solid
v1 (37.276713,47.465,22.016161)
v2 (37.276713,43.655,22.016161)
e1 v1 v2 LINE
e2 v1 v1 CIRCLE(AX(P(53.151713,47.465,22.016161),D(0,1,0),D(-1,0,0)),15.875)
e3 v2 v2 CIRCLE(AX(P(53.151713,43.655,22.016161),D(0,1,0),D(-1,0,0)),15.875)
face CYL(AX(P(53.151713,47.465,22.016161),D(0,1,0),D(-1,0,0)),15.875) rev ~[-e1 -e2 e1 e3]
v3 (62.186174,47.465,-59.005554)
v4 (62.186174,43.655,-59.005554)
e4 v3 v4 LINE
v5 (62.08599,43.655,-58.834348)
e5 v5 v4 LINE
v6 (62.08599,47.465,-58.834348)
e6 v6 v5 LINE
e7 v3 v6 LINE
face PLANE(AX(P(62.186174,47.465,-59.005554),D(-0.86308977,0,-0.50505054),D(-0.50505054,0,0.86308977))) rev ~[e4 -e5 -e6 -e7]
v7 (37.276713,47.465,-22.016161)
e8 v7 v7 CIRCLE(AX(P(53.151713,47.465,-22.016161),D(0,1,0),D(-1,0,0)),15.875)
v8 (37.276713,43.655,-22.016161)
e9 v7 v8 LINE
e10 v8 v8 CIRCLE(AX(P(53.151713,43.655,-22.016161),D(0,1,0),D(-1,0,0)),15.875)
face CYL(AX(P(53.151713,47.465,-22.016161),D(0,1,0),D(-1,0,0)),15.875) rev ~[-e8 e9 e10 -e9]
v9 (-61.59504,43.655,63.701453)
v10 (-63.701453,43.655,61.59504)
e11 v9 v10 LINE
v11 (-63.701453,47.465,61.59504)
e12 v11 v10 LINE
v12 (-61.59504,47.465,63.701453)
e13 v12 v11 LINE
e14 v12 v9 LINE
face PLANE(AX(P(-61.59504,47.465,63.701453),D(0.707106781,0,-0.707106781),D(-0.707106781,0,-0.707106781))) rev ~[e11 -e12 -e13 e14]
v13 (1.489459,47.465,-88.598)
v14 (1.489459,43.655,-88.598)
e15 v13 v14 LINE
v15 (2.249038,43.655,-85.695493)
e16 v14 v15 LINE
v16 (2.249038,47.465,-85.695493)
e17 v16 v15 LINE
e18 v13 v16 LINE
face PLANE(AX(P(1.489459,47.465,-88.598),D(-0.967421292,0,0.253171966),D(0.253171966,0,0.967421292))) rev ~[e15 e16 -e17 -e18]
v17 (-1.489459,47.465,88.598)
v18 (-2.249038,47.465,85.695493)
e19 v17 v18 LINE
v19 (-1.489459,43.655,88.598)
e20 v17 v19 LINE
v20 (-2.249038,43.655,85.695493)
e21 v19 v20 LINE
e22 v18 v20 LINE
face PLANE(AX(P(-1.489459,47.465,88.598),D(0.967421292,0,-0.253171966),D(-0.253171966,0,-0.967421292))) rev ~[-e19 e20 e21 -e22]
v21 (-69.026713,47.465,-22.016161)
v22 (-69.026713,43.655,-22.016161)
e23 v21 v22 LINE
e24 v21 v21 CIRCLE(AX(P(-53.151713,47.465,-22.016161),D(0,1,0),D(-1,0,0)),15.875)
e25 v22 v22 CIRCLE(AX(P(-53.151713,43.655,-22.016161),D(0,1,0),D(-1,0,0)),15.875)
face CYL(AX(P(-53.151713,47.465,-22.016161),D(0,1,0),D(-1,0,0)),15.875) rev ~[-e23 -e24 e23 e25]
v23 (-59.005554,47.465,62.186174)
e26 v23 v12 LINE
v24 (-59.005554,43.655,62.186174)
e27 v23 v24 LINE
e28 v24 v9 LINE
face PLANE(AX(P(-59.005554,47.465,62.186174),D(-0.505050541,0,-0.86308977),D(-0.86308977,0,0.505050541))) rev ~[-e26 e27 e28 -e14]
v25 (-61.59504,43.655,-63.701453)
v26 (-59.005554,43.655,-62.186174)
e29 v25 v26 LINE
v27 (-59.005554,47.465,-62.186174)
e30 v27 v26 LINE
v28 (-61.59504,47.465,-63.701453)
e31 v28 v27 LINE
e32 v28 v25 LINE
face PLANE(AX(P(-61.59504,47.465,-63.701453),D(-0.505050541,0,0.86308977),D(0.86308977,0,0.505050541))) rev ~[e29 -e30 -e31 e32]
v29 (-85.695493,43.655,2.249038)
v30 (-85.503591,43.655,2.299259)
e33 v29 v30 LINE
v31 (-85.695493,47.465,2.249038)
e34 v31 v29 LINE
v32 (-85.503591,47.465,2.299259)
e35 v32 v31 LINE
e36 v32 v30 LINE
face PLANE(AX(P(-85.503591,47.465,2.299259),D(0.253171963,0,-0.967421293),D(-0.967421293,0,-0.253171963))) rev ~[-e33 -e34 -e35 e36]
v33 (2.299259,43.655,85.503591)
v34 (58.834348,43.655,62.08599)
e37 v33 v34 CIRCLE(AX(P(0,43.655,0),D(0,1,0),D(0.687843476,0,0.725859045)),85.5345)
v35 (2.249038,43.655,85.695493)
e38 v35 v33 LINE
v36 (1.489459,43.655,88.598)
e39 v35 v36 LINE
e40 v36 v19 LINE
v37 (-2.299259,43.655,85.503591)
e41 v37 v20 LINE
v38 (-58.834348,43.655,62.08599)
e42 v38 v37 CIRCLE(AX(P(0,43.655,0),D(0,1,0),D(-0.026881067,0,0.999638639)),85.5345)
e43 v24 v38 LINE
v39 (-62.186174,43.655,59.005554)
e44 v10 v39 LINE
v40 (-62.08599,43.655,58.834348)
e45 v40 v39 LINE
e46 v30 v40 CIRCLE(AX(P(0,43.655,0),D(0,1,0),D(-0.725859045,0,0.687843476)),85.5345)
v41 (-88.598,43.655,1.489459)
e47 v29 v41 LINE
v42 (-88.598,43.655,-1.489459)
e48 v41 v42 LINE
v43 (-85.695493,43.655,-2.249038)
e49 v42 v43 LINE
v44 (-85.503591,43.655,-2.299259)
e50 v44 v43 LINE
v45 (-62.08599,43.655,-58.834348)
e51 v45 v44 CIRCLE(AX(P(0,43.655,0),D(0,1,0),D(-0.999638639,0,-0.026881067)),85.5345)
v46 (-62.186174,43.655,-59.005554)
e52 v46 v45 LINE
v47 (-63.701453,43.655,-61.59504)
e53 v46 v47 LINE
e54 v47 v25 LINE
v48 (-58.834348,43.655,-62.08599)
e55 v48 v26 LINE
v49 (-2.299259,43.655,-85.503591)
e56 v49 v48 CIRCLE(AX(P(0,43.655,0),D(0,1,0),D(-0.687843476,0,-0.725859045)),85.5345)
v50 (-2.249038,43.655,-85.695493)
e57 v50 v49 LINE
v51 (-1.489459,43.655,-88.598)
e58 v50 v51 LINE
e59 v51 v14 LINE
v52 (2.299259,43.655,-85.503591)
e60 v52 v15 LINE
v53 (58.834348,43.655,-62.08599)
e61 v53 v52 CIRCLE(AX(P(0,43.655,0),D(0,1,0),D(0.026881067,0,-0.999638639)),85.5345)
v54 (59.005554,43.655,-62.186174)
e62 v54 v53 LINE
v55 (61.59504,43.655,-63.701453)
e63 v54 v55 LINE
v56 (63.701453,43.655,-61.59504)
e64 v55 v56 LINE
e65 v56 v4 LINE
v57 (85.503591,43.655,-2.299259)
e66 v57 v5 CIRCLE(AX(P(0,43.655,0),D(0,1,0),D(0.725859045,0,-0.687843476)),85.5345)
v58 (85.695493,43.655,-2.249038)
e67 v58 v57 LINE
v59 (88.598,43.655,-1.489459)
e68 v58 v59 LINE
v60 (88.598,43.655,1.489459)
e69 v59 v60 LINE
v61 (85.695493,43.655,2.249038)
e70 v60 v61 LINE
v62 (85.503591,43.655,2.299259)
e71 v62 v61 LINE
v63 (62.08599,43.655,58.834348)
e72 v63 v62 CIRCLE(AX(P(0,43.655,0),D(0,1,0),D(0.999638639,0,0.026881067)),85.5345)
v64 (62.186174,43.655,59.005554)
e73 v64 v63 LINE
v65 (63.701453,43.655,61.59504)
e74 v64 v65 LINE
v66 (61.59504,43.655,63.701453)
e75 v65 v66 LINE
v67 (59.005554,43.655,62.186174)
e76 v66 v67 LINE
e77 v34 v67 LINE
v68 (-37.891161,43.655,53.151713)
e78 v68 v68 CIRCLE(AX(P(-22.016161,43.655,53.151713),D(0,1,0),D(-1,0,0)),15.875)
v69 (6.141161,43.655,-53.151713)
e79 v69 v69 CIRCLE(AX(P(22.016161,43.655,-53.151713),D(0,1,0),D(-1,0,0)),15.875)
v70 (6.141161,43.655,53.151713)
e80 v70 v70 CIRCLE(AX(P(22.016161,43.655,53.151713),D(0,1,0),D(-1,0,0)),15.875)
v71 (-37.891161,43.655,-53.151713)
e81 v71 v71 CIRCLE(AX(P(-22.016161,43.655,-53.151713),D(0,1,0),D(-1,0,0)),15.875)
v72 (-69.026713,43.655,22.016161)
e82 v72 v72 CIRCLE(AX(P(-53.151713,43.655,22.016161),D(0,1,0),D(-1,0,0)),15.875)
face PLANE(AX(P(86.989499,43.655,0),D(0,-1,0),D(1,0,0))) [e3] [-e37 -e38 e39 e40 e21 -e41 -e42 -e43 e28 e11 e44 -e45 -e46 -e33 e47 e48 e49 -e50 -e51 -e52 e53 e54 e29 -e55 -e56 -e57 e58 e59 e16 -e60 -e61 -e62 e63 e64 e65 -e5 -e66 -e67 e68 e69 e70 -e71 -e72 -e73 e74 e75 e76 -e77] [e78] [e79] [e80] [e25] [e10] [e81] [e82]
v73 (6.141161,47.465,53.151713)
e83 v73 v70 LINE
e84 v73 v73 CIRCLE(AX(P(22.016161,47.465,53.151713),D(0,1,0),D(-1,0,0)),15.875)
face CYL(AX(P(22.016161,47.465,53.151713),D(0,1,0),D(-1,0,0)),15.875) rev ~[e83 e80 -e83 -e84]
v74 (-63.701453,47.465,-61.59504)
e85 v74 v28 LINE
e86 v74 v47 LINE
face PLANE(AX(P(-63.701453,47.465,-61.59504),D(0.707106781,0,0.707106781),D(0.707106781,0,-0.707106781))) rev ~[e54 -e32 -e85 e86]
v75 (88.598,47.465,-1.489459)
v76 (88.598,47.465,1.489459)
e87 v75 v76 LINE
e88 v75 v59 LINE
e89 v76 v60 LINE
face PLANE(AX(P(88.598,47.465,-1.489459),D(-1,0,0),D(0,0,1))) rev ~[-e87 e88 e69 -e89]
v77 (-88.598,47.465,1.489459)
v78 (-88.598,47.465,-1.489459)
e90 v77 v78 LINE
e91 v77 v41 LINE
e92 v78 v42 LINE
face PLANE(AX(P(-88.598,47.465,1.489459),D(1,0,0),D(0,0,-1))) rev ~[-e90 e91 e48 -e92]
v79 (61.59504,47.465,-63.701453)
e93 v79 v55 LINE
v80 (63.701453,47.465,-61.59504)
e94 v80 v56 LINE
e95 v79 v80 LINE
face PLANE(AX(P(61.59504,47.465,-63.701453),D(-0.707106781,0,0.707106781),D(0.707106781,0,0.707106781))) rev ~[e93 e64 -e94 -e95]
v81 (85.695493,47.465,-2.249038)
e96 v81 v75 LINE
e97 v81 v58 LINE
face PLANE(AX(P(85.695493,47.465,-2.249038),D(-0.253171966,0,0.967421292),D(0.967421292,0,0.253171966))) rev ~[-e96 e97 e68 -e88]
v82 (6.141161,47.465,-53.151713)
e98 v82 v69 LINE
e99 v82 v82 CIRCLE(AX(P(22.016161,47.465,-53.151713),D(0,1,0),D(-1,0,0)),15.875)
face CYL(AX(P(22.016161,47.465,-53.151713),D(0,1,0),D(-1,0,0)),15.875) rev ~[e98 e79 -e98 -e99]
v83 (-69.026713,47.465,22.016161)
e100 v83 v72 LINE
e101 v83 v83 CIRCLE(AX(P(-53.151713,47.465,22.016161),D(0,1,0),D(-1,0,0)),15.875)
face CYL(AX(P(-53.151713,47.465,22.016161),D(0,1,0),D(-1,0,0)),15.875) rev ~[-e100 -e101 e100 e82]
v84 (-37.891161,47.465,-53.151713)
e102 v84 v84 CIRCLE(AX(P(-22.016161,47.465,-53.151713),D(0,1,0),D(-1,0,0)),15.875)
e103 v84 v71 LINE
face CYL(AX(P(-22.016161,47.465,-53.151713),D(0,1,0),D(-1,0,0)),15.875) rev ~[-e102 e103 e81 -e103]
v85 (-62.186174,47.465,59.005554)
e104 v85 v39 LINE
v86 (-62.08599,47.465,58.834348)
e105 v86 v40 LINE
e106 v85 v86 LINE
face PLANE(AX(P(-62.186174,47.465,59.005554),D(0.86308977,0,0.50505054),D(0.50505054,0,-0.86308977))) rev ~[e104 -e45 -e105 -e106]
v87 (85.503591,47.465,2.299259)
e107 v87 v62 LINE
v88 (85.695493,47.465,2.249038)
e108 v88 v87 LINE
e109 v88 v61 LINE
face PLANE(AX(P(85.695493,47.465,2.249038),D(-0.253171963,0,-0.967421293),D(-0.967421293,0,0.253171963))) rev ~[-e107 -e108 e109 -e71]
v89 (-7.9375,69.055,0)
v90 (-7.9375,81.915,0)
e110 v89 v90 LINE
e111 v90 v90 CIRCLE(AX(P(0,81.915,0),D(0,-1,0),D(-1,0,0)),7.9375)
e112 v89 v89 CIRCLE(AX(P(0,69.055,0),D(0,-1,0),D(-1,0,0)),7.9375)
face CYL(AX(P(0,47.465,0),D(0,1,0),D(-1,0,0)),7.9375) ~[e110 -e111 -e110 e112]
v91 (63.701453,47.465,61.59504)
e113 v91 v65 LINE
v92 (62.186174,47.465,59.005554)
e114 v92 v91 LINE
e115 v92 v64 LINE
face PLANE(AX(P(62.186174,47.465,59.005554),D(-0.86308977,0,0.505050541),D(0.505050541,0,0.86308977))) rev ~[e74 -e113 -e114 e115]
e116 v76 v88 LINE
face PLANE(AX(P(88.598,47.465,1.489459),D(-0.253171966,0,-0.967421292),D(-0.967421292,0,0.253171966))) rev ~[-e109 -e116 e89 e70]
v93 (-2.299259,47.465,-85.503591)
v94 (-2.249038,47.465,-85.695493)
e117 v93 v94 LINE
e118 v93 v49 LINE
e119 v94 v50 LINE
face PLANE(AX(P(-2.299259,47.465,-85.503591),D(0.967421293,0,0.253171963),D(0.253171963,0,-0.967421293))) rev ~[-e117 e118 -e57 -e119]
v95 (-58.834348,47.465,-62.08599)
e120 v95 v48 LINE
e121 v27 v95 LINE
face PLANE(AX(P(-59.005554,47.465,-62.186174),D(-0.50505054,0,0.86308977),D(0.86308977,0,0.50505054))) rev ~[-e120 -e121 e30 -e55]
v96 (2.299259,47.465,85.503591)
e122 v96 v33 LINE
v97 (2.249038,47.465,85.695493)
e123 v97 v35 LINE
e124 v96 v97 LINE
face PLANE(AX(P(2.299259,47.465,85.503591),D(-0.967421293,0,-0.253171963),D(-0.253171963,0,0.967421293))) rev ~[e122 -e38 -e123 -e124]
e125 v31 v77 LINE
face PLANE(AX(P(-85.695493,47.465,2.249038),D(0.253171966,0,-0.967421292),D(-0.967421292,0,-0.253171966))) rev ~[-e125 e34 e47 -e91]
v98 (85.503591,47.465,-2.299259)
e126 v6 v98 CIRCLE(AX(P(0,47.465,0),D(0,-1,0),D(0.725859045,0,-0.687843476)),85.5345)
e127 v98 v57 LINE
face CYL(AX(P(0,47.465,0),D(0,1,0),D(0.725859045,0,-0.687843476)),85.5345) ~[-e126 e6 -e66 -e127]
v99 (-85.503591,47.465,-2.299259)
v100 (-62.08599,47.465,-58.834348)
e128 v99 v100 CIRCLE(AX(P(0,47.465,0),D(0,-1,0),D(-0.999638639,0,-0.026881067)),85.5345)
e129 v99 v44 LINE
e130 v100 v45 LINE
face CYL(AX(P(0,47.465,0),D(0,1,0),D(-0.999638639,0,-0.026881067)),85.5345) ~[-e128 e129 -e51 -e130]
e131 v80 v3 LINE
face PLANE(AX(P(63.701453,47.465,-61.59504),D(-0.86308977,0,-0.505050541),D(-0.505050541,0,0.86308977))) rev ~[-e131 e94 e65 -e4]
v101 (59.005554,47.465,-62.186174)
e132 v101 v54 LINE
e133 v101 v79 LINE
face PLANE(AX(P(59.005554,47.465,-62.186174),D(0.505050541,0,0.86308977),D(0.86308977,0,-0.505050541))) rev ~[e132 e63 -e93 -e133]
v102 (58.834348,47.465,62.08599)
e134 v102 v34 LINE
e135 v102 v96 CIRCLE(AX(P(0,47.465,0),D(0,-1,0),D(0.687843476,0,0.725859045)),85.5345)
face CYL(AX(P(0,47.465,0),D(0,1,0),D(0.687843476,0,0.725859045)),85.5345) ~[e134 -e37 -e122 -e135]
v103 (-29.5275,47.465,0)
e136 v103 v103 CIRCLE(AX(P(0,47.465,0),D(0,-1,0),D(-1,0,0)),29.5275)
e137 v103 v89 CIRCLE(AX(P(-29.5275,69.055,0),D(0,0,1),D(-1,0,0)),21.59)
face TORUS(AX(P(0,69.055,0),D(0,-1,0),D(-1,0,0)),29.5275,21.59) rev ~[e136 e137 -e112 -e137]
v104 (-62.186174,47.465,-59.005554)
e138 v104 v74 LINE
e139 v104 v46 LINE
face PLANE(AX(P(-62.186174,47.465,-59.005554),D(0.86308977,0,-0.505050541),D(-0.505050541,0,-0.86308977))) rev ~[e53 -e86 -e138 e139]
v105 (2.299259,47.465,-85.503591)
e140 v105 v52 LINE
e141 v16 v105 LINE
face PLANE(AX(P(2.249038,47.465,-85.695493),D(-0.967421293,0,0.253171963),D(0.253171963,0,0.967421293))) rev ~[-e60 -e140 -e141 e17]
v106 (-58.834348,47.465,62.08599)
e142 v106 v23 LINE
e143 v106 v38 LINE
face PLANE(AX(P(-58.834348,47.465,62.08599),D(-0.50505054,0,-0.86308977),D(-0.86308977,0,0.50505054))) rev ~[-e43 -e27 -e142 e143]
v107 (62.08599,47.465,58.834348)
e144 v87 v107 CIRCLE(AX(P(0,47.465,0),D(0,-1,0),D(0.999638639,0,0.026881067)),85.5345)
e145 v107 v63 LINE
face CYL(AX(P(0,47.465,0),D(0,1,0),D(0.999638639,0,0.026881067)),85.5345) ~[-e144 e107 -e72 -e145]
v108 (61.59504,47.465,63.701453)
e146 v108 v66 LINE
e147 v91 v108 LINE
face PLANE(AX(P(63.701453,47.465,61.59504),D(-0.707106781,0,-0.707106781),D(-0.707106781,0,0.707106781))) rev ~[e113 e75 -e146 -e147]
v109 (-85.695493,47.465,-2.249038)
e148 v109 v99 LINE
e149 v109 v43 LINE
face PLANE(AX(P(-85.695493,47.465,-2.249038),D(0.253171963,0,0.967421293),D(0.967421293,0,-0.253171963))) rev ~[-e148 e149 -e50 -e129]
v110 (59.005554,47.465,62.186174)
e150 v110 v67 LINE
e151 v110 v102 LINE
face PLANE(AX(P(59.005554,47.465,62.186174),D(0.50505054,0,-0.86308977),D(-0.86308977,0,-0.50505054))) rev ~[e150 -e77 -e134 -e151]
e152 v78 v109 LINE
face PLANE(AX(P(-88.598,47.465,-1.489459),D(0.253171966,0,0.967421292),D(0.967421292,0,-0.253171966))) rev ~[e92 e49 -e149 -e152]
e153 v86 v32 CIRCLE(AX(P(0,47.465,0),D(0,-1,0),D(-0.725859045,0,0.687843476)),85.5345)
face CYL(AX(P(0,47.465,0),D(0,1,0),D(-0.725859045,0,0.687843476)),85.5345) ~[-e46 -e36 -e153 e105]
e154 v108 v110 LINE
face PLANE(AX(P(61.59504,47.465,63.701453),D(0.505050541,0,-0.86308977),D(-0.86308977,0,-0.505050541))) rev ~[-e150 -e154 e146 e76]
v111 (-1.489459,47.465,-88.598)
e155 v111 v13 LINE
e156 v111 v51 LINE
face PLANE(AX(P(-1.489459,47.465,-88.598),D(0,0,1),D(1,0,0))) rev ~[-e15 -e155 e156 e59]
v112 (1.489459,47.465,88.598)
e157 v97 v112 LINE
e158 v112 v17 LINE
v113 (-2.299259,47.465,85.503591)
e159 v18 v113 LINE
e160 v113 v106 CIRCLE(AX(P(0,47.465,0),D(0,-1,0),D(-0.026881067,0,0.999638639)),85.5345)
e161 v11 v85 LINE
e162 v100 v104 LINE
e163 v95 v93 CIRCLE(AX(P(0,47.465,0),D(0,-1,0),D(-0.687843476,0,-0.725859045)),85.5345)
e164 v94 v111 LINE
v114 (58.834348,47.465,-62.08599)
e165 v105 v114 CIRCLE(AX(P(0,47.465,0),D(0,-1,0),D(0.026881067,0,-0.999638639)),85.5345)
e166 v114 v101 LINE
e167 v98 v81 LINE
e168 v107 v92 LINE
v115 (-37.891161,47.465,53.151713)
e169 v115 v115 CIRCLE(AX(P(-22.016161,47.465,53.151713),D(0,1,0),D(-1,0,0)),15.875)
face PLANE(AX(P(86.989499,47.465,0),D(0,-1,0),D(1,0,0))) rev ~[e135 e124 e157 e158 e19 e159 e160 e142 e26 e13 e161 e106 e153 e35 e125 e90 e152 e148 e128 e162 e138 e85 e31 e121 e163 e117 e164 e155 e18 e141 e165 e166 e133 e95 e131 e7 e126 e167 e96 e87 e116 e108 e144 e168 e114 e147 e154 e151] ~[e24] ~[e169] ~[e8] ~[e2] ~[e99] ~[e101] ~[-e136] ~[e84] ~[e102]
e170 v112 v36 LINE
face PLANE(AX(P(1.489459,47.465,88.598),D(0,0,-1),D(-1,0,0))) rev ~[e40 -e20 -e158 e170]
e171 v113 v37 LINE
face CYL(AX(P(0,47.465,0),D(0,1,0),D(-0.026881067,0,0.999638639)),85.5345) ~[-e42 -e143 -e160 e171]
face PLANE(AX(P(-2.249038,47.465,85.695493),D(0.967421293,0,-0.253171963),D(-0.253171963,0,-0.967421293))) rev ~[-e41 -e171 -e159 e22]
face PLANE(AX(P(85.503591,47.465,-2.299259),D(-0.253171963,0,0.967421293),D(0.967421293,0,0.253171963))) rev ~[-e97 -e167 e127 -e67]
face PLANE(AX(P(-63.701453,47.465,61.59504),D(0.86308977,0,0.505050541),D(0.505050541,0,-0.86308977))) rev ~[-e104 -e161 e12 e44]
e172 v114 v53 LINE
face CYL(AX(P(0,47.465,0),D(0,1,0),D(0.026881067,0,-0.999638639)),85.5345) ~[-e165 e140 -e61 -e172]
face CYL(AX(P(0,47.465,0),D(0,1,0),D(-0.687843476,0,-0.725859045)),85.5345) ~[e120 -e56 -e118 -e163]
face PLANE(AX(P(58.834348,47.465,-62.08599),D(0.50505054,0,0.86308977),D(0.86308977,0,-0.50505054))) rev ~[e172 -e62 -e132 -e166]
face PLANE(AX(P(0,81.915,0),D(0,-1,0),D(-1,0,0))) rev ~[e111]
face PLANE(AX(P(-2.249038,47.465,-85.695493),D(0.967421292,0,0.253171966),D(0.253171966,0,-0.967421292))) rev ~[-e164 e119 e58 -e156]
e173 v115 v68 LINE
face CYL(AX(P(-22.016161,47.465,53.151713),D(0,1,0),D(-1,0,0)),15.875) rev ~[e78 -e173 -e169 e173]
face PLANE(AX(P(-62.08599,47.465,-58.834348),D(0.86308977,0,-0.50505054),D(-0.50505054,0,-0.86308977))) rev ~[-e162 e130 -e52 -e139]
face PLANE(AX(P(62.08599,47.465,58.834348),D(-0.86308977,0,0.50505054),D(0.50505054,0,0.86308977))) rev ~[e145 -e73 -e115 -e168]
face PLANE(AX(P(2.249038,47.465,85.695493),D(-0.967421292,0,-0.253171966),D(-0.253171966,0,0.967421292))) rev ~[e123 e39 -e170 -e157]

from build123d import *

# Parameters (mm, degrees)
SKETCH1_R            = 85.725
BOSS_EXTRUDE1_DEPTH  = 62.865
FILLET1_R            = 3.175
FILLET1_OF_MIRROR1_R = 3.175
FILLET2_R            = 21.59
CUT_EXTRUDE2_START   = 34.45
SKETCH5_R            = 92.075
SKETCH5_R_2          = 85.725
CUT_EXTRUDE2_DEPTH   = 219.00798967
SKETCH6_W            = 171.45
SKETCH6_H            = 25.581957496
CUT_EXTRUDE3_DEPTH   = 88.9
BOSS_EXTRUDE2_START  = -94.93
BOSS_EXTRUDE2_DEPTH  = 3.81
CUT_EXTRUDE5_DEPTH   = 130.946195435
SKETCH9_R            = 15.875
CUT_EXTRUDE6_DEPTH   = 130.946195435


with BuildPart() as part:
    # Sketch1 → Boss-Extrude1 (new, symmetric)
    with BuildSketch(Plane(origin=(0, 0, 0), x_dir=(1, 0, 0), z_dir=(0, 1, 0))):
        with BuildLine():
            Line((13.371386035, 89.497618576), (13.619190523, 91.06219454))
            ThreePointArc((13.619190523, 91.06219454), (7.224121239, 91.791163503), (0.79375, 92.0715786))
            Line((0.79375, 92.0715786), (0.79375, 90.4875))
            Line((0.79375, 90.4875), (-0.79375, 90.4875))
            Line((-0.79375, 90.4875), (-0.79375, 92.0715786))
            ThreePointArc((-0.79375, 92.0715786), (-7.224121239, 91.791163503), (-13.619190523, 91.06219454))
            Line((-13.619190523, 91.06219454), (-13.371386035, 89.497618576))
            Line((-13.371386035, 89.497618576), (-14.939341276, 89.249278863))
            Line((-14.939341276, 89.249278863), (-15.187145764, 90.813854827))
            ThreePointArc((-15.187145764, 90.813854827), (-21.494481877, 89.530960421), (-27.696781377, 87.810557033))
            Line((-27.696781377, 87.810557033), (-27.207274169, 86.304008758))
            Line((-27.207274169, 86.304008758), (-28.717076388, 85.813444279))
            Line((-28.717076388, 85.813444279), (-29.206583596, 87.319992554))
            ThreePointArc((-29.206583596, 87.319992554), (-35.235577035, 85.066207956), (-41.092385552, 82.396732184))
            Line((-41.092385552, 82.396732184), (-40.373228917, 80.985307817))
            Line((-40.373228917, 80.985307817), (-41.787701774, 80.264597898))
            Line((-41.787701774, 80.264597898), (-42.506858409, 81.676022266))
            ThreePointArc((-42.506858409, 81.676022266), (-48.109055346, 78.506843133), (-53.476158817, 74.954026331))
            Line((-53.476158817, 74.954026331), (-52.545060778, 73.672479823))
            Line((-52.545060778, 73.672479823), (-53.829375256, 72.739370734))
            Line((-53.829375256, 72.739370734), (-54.760473296, 74.020917243))
            ThreePointArc((-54.760473296, 74.020917243), (-59.79792905, 70.014379283), (-64.543171575, 65.66570359))
            Line((-64.543171575, 65.66570359), (-63.423058855, 64.54559087))
            Line((-63.423058855, 64.54559087), (-64.54559087, 63.423058855))
            Line((-64.54559087, 63.423058855), (-65.66570359, 64.543171575))
            ThreePointArc((-65.66570359, 64.543171575), (-70.014379283, 59.79792905), (-74.020917243, 54.760473296))
            Line((-74.020917243, 54.760473296), (-72.739370734, 53.829375256))
            Line((-72.739370734, 53.829375256), (-73.672479823, 52.545060778))
            Line((-73.672479823, 52.545060778), (-74.954026331, 53.476158817))
            ThreePointArc((-74.954026331, 53.476158817), (-78.506843133, 48.109055346), (-81.676022266, 42.506858409))
            Line((-81.676022266, 42.506858409), (-80.264597898, 41.787701774))
            Line((-80.264597898, 41.787701774), (-80.985307817, 40.373228917))
            Line((-80.985307817, 40.373228917), (-82.396732184, 41.092385552))
            ThreePointArc((-82.396732184, 41.092385552), (-85.066207956, 35.235577035), (-87.319992554, 29.206583596))
            Line((-87.319992554, 29.206583596), (-85.813444279, 28.717076388))
            Line((-85.813444279, 28.717076388), (-86.304008758, 27.207274169))
            Line((-86.304008758, 27.207274169), (-87.810557033, 27.696781377))
            ThreePointArc((-87.810557033, 27.696781377), (-89.530960421, 21.494481877), (-90.813854827, 15.187145764))
            Line((-90.813854827, 15.187145764), (-89.249278863, 14.939341276))
            Line((-89.249278863, 14.939341276), (-89.497618576, 13.371386035))
            Line((-89.497618576, 13.371386035), (-91.06219454, 13.619190523))
            ThreePointArc((-91.06219454, 13.619190523), (-91.791163503, 7.224121239), (-92.0715786, 0.79375))
            Line((-92.0715786, 0.79375), (-90.4875, 0.79375))
            Line((-90.4875, 0.79375), (-90.4875, -0.79375))
            Line((-90.4875, -0.79375), (-92.0715786, -0.79375))
            ThreePointArc((-92.0715786, -0.79375), (-91.791163503, -7.224121239), (-91.06219454, -13.619190523))
            Line((-91.06219454, -13.619190523), (-89.497618576, -13.371386035))
            Line((-89.497618576, -13.371386035), (-89.249278863, -14.939341276))
            Line((-89.249278863, -14.939341276), (-90.813854827, -15.187145764))
            ThreePointArc((-90.813854827, -15.187145764), (-89.530960421, -21.494481877), (-87.810557033, -27.696781377))
            Line((-87.810557033, -27.696781377), (-86.304008758, -27.207274169))
            Line((-86.304008758, -27.207274169), (-85.813444279, -28.717076388))
            Line((-85.813444279, -28.717076388), (-87.319992554, -29.206583596))
            ThreePointArc((-87.319992554, -29.206583596), (-85.066207956, -35.235577035), (-82.396732184, -41.092385552))
            Line((-82.396732184, -41.092385552), (-80.985307817, -40.373228917))
            Line((-80.985307817, -40.373228917), (-80.264597898, -41.787701774))
            Line((-80.264597898, -41.787701774), (-81.676022266, -42.506858409))
            ThreePointArc((-81.676022266, -42.506858409), (-78.506843133, -48.109055346), (-74.954026331, -53.476158817))
            Line((-74.954026331, -53.476158817), (-73.672479822, -52.545060778))
            Line((-73.672479822, -52.545060778), (-72.739370734, -53.829375256))
            Line((-72.739370734, -53.829375256), (-74.020917242, -54.760473296))
            ThreePointArc((-74.020917242, -54.760473296), (-70.014379283, -59.79792905), (-65.66570359, -64.543171575))
            Line((-65.66570359, -64.543171575), (-64.54559087, -63.423058855))
            Line((-64.54559087, -63.423058855), (-63.423058855, -64.54559087))
            Line((-63.423058855, -64.54559087), (-64.543171575, -65.66570359))
            ThreePointArc((-64.543171575, -65.66570359), (-59.79792905, -70.014379283), (-54.760473296, -74.020917243))
            Line((-54.760473296, -74.020917243), (-53.829375256, -72.739370735))
            Line((-53.829375256, -72.739370735), (-52.545060778, -73.672479823))
            Line((-52.545060778, -73.672479823), (-53.476158817, -74.954026331))
            ThreePointArc((-53.476158817, -74.954026331), (-48.109055346, -78.506843133), (-42.506858409, -81.676022266))
            Line((-42.506858409, -81.676022266), (-41.787701774, -80.264597898))
            Line((-41.787701774, -80.264597898), (-40.373228917, -80.985307817))
            Line((-40.373228917, -80.985307817), (-41.092385552, -82.396732184))
            ThreePointArc((-41.092385552, -82.396732184), (-35.235577035, -85.066207956), (-29.206583596, -87.319992554))
            Line((-29.206583596, -87.319992554), (-28.717076388, -85.813444279))
            Line((-28.717076388, -85.813444279), (-27.207274169, -86.304008758))
            Line((-27.207274169, -86.304008758), (-27.696781377, -87.810557033))
            ThreePointArc((-27.696781377, -87.810557033), (-21.494481877, -89.530960421), (-15.187145764, -90.813854827))
            Line((-15.187145764, -90.813854827), (-14.939341276, -89.249278863))
            Line((-14.939341276, -89.249278863), (-13.371386035, -89.497618576))
            Line((-13.371386035, -89.497618576), (-13.619190523, -91.06219454))
            ThreePointArc((-13.619190523, -91.06219454), (-7.224121239, -91.791163503), (-0.79375, -92.0715786))
            Line((-0.79375, -92.0715786), (-0.79375, -90.4875))
            Line((-0.79375, -90.4875), (0.79375, -90.4875))
            Line((0.79375, -90.4875), (0.79375, -92.0715786))
            ThreePointArc((0.79375, -92.0715786), (7.224121239, -91.791163503), (13.619190523, -91.06219454))
            Line((13.619190523, -91.06219454), (13.371386035, -89.497618576))
            Line((13.371386035, -89.497618576), (14.939341276, -89.249278863))
            Line((14.939341276, -89.249278863), (15.187145764, -90.813854827))
            ThreePointArc((15.187145764, -90.813854827), (21.494481877, -89.530960421), (27.696781377, -87.810557033))
            Line((27.696781377, -87.810557033), (27.207274169, -86.304008758))
            Line((27.207274169, -86.304008758), (28.717076388, -85.813444279))
            Line((28.717076388, -85.813444279), (29.206583596, -87.319992554))
            ThreePointArc((29.206583596, -87.319992554), (35.235577035, -85.066207956), (41.092385552, -82.396732184))
            Line((41.092385552, -82.396732184), (40.373228917, -80.985307817))
            Line((40.373228917, -80.985307817), (41.787701774, -80.264597898))
            Line((41.787701774, -80.264597898), (42.506858409, -81.676022266))
            ThreePointArc((42.506858409, -81.676022266), (48.109055346, -78.506843133), (53.476158817, -74.954026331))
            Line((53.476158817, -74.954026331), (52.545060778, -73.672479823))
            Line((52.545060778, -73.672479823), (53.829375256, -72.739370734))
            Line((53.829375256, -72.739370734), (54.760473296, -74.020917242))
            ThreePointArc((54.760473296, -74.020917242), (59.79792905, -70.014379283), (64.543171575, -65.66570359))
            Line((64.543171575, -65.66570359), (63.423058855, -64.54559087))
            Line((63.423058855, -64.54559087), (64.54559087, -63.423058855))
            Line((64.54559087, -63.423058855), (65.66570359, -64.543171575))
            ThreePointArc((65.66570359, -64.543171575), (70.014379283, -59.79792905), (74.020917243, -54.760473296))
            Line((74.020917243, -54.760473296), (72.739370735, -53.829375256))
            Line((72.739370735, -53.829375256), (73.672479823, -52.545060778))
            Line((73.672479823, -52.545060778), (74.954026331, -53.476158817))
            ThreePointArc((74.954026331, -53.476158817), (78.506843133, -48.109055346), (81.676022266, -42.506858409))
            Line((81.676022266, -42.506858409), (80.264597898, -41.787701774))
            Line((80.264597898, -41.787701774), (80.985307817, -40.373228917))
            Line((80.985307817, -40.373228917), (82.396732184, -41.092385552))
            ThreePointArc((82.396732184, -41.092385552), (85.066207956, -35.235577035), (87.319992554, -29.206583596))
            Line((87.319992554, -29.206583596), (85.813444279, -28.717076388))
            Line((85.813444279, -28.717076388), (86.304008758, -27.207274169))
            Line((86.304008758, -27.207274169), (87.810557033, -27.696781377))
            ThreePointArc((87.810557033, -27.696781377), (89.530960421, -21.494481877), (90.813854827, -15.187145764))
            Line((90.813854827, -15.187145764), (89.249278863, -14.939341276))
            Line((89.249278863, -14.939341276), (89.497618576, -13.371386035))
            Line((89.497618576, -13.371386035), (91.06219454, -13.619190523))
            ThreePointArc((91.06219454, -13.619190523), (91.791163503, -7.224121239), (92.0715786, -0.79375))
            Line((92.0715786, -0.79375), (90.4875, -0.79375))
            Line((90.4875, -0.79375), (90.4875, 0.79375))
            Line((90.4875, 0.79375), (92.0715786, 0.79375))
            ThreePointArc((92.0715786, 0.79375), (91.791163503, 7.224121239), (91.06219454, 13.619190523))
            Line((91.06219454, 13.619190523), (89.497618576, 13.371386035))
            Line((89.497618576, 13.371386035), (89.249278863, 14.939341276))
            Line((89.249278863, 14.939341276), (90.813854827, 15.187145764))
            ThreePointArc((90.813854827, 15.187145764), (89.530960421, 21.494481877), (87.810557033, 27.696781377))
            Line((87.810557033, 27.696781377), (86.304008758, 27.207274169))
            Line((86.304008758, 27.207274169), (85.813444279, 28.717076388))
            Line((85.813444279, 28.717076388), (87.319992554, 29.206583596))
            ThreePointArc((87.319992554, 29.206583596), (85.066207956, 35.235577035), (82.396732184, 41.092385552))
            Line((82.396732184, 41.092385552), (80.985307817, 40.373228917))
            Line((80.985307817, 40.373228917), (80.264597898, 41.787701774))
            Line((80.264597898, 41.787701774), (81.676022266, 42.506858409))
            ThreePointArc((81.676022266, 42.506858409), (78.506843133, 48.109055346), (74.954026331, 53.476158817))
            Line((74.954026331, 53.476158817), (73.672479823, 52.545060778))
            Line((73.672479823, 52.545060778), (72.739370735, 53.829375256))
            Line((72.739370735, 53.829375256), (74.020917243, 54.760473296))
            ThreePointArc((74.020917243, 54.760473296), (70.014379283, 59.79792905), (65.66570359, 64.543171575))
            Line((65.66570359, 64.543171575), (64.54559087, 63.423058855))
            Line((64.54559087, 63.423058855), (63.423058855, 64.54559087))
            Line((63.423058855, 64.54559087), (64.543171575, 65.66570359))
            ThreePointArc((64.543171575, 65.66570359), (59.79792905, 70.014379283), (54.760473296, 74.020917243))
            Line((54.760473296, 74.020917243), (53.829375256, 72.739370735))
            Line((53.829375256, 72.739370735), (52.545060778, 73.672479823))
            Line((52.545060778, 73.672479823), (53.476158817, 74.954026331))
            ThreePointArc((53.476158817, 74.954026331), (48.109055346, 78.506843133), (42.506858409, 81.676022266))
            Line((42.506858409, 81.676022266), (41.787701774, 80.264597898))
            Line((41.787701774, 80.264597898), (40.373228917, 80.985307817))
            Line((40.373228917, 80.985307817), (41.092385552, 82.396732184))
            ThreePointArc((41.092385552, 82.396732184), (35.235577035, 85.066207956), (29.206583596, 87.319992554))
            Line((29.206583596, 87.319992554), (28.717076388, 85.813444279))
            Line((28.717076388, 85.813444279), (27.207274169, 86.304008758))
            Line((27.207274169, 86.304008758), (27.696781377, 87.810557033))
            ThreePointArc((27.696781377, 87.810557033), (21.494481877, 89.530960421), (15.187145764, 90.813854827))
            Line((15.187145764, 90.813854827), (14.939341276, 89.249278863))
            Line((14.939341276, 89.249278863), (13.371386035, 89.497618576))
        make_face()
        with Locations(Location((0, 0, 0), (0, 0, 270))):
            Circle(SKETCH1_R, mode=Mode.SUBTRACT)
    extrude(amount=BOSS_EXTRUDE1_DEPTH, both=True)

    # Sketch2 → Revolve1 (revolve)
    with BuildSketch(Plane.XY):
        Polygon((0, 81.915), (0, 41.115), (-85.725, 41.115), (-85.725, 47.465), (-7.9375, 47.465), (-7.9375, 81.915), align=None)
    revolve1 = revolve(axis=Axis((0, 81.915, 0), (0, -1, 0)))

    # Fillet1
    fillet1_edges = [part.edges().sort_by_distance(p)[0] for p in [
        (0, 41.115, -85.725),
    ]]
    fillet(fillet1_edges, radius=FILLET1_R)

    # Mirror1: Revolve1 across plane
    add(revolve1.mirror(Plane.ZX))

    # Fillet1 of Mirror1
    fillet1_of_mirror1_edges = [part.edges().sort_by_distance(p)[0] for p in [
        (0, -41.115, -85.725),
    ]]
    fillet(fillet1_of_mirror1_edges, radius=FILLET1_OF_MIRROR1_R)

    # Fillet2
    fillet2_edges = [part.edges().sort_by_distance(p)[0] for p in [
        (7.9375, 47.465, 0),
        (7.9375, -47.465, 0),
    ]]
    fillet(fillet2_edges, radius=FILLET2_R)

    # Sketch5 → Cut-Extrude2 (cut, through all)
    with BuildSketch(Plane.XZ.offset(47.465).offset(CUT_EXTRUDE2_START)):
        Circle(SKETCH5_R)
        Circle(SKETCH5_R_2, mode=Mode.SUBTRACT)
    extrude(amount=-CUT_EXTRUDE2_DEPTH, mode=Mode.SUBTRACT)


with BuildPart() as cut_extrude2_kept_piece:
    # of the separate pieces the step leaves, the one the design keeps (cut_extrude2_pieces_kept)
    add(part.part.solids().sort_by_distance((-29.5275, 47.465, 0))[0])

    # Sketch6 → Cut-Extrude3 (cut, symmetric)
    with BuildSketch(Plane.XY):
        with Locations((0, 30.864021252)):
            Rectangle(SKETCH6_W, SKETCH6_H)
    extrude(amount=CUT_EXTRUDE3_DEPTH, both=True, mode=Mode.SUBTRACT)

    # Sketch5<5> → Boss-Extrude2 (add)
    with BuildSketch(Plane.XZ.offset(47.465).offset(BOSS_EXTRUDE2_START)):
        with BuildLine():
            Line((1.489458784, -88.598), (2.249038414, -85.695492596))
            ThreePointArc((2.249038414, -85.695492596), (0, -85.725), (-2.249038414, -85.695492596))
            Line((-2.249038414, -85.695492596), (-1.489458784, -88.598))
            Line((-1.489458784, -88.598), (1.489458784, -88.598))
        make_face()
        with BuildLine():
            Line((-61.595040193, -63.701453006), (-59.005553618, -62.186174245))
            ThreePointArc((-59.005553618, -62.186174245), (-60.616728817, -60.616728817), (-62.186174245, -59.005553618))
            Line((-62.186174245, -59.005553618), (-63.701453006, -61.595040193))
            Line((-63.701453006, -61.595040193), (-61.595040193, -63.701453006))
        make_face()
        with BuildLine():
            ThreePointArc((-85.695492596, -2.249038414), (-85.725, 0), (-85.695492596, 2.249038414))
            Line((-85.695492596, 2.249038414), (-88.598, 1.489458784))
            Line((-88.598, 1.489458784), (-88.598, -1.489458784))
            Line((-88.598, -1.489458784), (-85.695492596, -2.249038414))
        make_face()
        with BuildLine():
            ThreePointArc((-62.186174245, 59.005553618), (-60.616728817, 60.616728817), (-59.005553618, 62.186174245))
            Line((-59.005553618, 62.186174245), (-61.595040193, 63.701453006))
            Line((-61.595040193, 63.701453006), (-63.701453006, 61.595040193))
            Line((-63.701453006, 61.595040193), (-62.186174245, 59.005553618))
        make_face()
        with BuildLine():
            ThreePointArc((-2.249038414, 85.695492596), (0, 85.725), (2.249038414, 85.695492596))
            Line((2.249038414, 85.695492596), (1.489458784, 88.598))
            Line((1.489458784, 88.598), (-1.489458784, 88.598))
            Line((-1.489458784, 88.598), (-2.249038414, 85.695492596))
        make_face()
        with BuildLine():
            ThreePointArc((59.005553618, 62.186174245), (60.616728817, 60.616728817), (62.186174245, 59.005553618))
            Line((62.186174245, 59.005553618), (63.701453006, 61.595040193))
            Line((63.701453006, 61.595040193), (61.595040193, 63.701453006))
            Line((61.595040193, 63.701453006), (59.005553618, 62.186174245))
        make_face()
        with BuildLine():
            Line((88.598, 1.489458784), (85.695492596, 2.249038414))
            ThreePointArc((85.695492596, 2.249038414), (85.717622831, 1.124615987), (85.725, 0))
            ThreePointArc((85.725, 0), (85.717622831, -1.124615987), (85.695492596, -2.249038414))
            Line((85.695492596, -2.249038414), (88.598, -1.489458784))
            Line((88.598, -1.489458784), (88.598, 1.489458784))
        make_face()
        with BuildLine():
            Line((63.701453006, -61.595040193), (62.186174245, -59.005553618))
            ThreePointArc((62.186174245, -59.005553618), (60.616728817, -60.616728817), (59.005553618, -62.186174245))
            Line((59.005553618, -62.186174245), (61.595040193, -63.701453006))
            Line((61.595040193, -63.701453006), (63.701453006, -61.595040193))
        make_face()
    extrude(amount=BOSS_EXTRUDE2_DEPTH)

    # Sketch8 → Cut-Extrude5 (cut, through all)
    with BuildSketch(Plane(origin=(0, 47.465, 0), x_dir=(1, 0, 0), z_dir=(0, 1, 0))):
        with BuildLine():
            Line((-85.503591154, -2.299258587), (-85.695492596, -2.249038414))
            ThreePointArc((-85.695492596, -2.249038414), (-79.199572925, -32.805537239), (-62.186174245, -59.005553618))
            Line((-62.186174245, -59.005553618), (-62.08599046, -58.834347782))
            ThreePointArc((-62.08599046, -58.834347782), (-79.023573874, -32.732636046), (-85.503591154, -2.299258587))
        make_face()
        with BuildLine():
            ThreePointArc((-2.299258587, -85.503591154), (-32.732636046, -79.023573874), (-58.834347782, -62.08599046))
            Line((-58.834347782, -62.08599046), (-59.005553618, -62.186174245))
            ThreePointArc((-59.005553618, -62.186174245), (-32.805537239, -79.199572925), (-2.249038414, -85.695492596))
            Line((-2.249038414, -85.695492596), (-2.299258587, -85.503591154))
        make_face()
        with BuildLine():
            ThreePointArc((58.834347782, -62.08599046), (32.732636046, -79.023573874), (2.299258587, -85.503591154))
            Line((2.299258587, -85.503591154), (2.249038414, -85.695492596))
            ThreePointArc((2.249038414, -85.695492596), (32.805537239, -79.199572925), (59.005553618, -62.186174245))
            Line((59.005553618, -62.186174245), (58.834347782, -62.08599046))
        make_face()
        with BuildLine():
            ThreePointArc((85.503591154, -2.299258587), (79.023573874, -32.732636046), (62.08599046, -58.834347782))
            Line((62.08599046, -58.834347782), (62.186174245, -59.005553618))
            ThreePointArc((62.186174245, -59.005553618), (79.199572925, -32.805537239), (85.695492596, -2.249038414))
            Line((85.695492596, -2.249038414), (85.503591154, -2.299258587))
        make_face()
        with BuildLine():
            Line((62.186174245, 59.005553618), (62.08599046, 58.834347782))
            ThreePointArc((62.08599046, 58.834347782), (79.023573874, 32.732636046), (85.503591154, 2.299258587))
            Line((85.503591154, 2.299258587), (85.695492596, 2.249038414))
            ThreePointArc((85.695492596, 2.249038414), (79.199572925, 32.805537239), (62.186174245, 59.005553618))
        make_face()
        with BuildLine():
            Line((2.249038414, 85.695492596), (2.299258587, 85.503591154))
            ThreePointArc((2.299258587, 85.503591154), (32.732636046, 79.023573874), (58.834347782, 62.08599046))
            Line((58.834347782, 62.08599046), (59.005553618, 62.186174245))
            ThreePointArc((59.005553618, 62.186174245), (32.805537239, 79.199572925), (2.249038414, 85.695492596))
        make_face()
        with BuildLine():
            Line((-59.005553618, 62.186174245), (-58.834347782, 62.08599046))
            ThreePointArc((-58.834347782, 62.08599046), (-32.732636046, 79.023573874), (-2.299258587, 85.503591154))
            Line((-2.299258587, 85.503591154), (-2.249038414, 85.695492596))
            ThreePointArc((-2.249038414, 85.695492596), (-32.805537239, 79.199572925), (-59.005553618, 62.186174245))
        make_face()
        with BuildLine():
            Line((-85.695492596, 2.249038414), (-85.503591154, 2.299258587))
            ThreePointArc((-85.503591154, 2.299258587), (-79.023573874, 32.732636046), (-62.08599046, 58.834347782))
            Line((-62.08599046, 58.834347782), (-62.186174245, 59.005553618))
            ThreePointArc((-62.186174245, 59.005553618), (-79.199572925, 32.805537239), (-85.695492596, 2.249038414))
        make_face()
    extrude(amount=-CUT_EXTRUDE5_DEPTH, mode=Mode.SUBTRACT)

    # Sketch9 → Cut-Extrude6 (cut, through all)
    with BuildSketch(Plane(origin=(0, 47.465, 0), x_dir=(1, 0, 0), z_dir=(0, 1, 0))):
        with Locations(Location((-22.016160547, 53.151713385, 0), (0, 0, 180))):
            Circle(SKETCH9_R)
        with Locations(Location((22.016160547, 53.151713385, 0), (0, 0, 180))):
            Circle(SKETCH9_R)
        with Locations(Location((53.151713385, 22.016160547, 0), (0, 0, 180))):
            Circle(SKETCH9_R)
        with Locations(Location((53.151713385, -22.016160547, 0), (0, 0, 180))):
            Circle(SKETCH9_R)
        with Locations(Location((22.016160547, -53.151713385, 0), (0, 0, 180))):
            Circle(SKETCH9_R)
        with Locations(Location((-22.016160547, -53.151713385, 0), (0, 0, 180))):
            Circle(SKETCH9_R)
        with Locations(Location((-53.151713385, -22.016160547, 0), (0, 0, 180))):
            Circle(SKETCH9_R)
        with Locations(Location((-53.151713385, 22.016160547, 0), (0, 0, 180))):
            Circle(SKETCH9_R)
    extrude(amount=-CUT_EXTRUDE6_DEPTH, mode=Mode.SUBTRACT)


solid = cut_extrude2_kept_piece.part
